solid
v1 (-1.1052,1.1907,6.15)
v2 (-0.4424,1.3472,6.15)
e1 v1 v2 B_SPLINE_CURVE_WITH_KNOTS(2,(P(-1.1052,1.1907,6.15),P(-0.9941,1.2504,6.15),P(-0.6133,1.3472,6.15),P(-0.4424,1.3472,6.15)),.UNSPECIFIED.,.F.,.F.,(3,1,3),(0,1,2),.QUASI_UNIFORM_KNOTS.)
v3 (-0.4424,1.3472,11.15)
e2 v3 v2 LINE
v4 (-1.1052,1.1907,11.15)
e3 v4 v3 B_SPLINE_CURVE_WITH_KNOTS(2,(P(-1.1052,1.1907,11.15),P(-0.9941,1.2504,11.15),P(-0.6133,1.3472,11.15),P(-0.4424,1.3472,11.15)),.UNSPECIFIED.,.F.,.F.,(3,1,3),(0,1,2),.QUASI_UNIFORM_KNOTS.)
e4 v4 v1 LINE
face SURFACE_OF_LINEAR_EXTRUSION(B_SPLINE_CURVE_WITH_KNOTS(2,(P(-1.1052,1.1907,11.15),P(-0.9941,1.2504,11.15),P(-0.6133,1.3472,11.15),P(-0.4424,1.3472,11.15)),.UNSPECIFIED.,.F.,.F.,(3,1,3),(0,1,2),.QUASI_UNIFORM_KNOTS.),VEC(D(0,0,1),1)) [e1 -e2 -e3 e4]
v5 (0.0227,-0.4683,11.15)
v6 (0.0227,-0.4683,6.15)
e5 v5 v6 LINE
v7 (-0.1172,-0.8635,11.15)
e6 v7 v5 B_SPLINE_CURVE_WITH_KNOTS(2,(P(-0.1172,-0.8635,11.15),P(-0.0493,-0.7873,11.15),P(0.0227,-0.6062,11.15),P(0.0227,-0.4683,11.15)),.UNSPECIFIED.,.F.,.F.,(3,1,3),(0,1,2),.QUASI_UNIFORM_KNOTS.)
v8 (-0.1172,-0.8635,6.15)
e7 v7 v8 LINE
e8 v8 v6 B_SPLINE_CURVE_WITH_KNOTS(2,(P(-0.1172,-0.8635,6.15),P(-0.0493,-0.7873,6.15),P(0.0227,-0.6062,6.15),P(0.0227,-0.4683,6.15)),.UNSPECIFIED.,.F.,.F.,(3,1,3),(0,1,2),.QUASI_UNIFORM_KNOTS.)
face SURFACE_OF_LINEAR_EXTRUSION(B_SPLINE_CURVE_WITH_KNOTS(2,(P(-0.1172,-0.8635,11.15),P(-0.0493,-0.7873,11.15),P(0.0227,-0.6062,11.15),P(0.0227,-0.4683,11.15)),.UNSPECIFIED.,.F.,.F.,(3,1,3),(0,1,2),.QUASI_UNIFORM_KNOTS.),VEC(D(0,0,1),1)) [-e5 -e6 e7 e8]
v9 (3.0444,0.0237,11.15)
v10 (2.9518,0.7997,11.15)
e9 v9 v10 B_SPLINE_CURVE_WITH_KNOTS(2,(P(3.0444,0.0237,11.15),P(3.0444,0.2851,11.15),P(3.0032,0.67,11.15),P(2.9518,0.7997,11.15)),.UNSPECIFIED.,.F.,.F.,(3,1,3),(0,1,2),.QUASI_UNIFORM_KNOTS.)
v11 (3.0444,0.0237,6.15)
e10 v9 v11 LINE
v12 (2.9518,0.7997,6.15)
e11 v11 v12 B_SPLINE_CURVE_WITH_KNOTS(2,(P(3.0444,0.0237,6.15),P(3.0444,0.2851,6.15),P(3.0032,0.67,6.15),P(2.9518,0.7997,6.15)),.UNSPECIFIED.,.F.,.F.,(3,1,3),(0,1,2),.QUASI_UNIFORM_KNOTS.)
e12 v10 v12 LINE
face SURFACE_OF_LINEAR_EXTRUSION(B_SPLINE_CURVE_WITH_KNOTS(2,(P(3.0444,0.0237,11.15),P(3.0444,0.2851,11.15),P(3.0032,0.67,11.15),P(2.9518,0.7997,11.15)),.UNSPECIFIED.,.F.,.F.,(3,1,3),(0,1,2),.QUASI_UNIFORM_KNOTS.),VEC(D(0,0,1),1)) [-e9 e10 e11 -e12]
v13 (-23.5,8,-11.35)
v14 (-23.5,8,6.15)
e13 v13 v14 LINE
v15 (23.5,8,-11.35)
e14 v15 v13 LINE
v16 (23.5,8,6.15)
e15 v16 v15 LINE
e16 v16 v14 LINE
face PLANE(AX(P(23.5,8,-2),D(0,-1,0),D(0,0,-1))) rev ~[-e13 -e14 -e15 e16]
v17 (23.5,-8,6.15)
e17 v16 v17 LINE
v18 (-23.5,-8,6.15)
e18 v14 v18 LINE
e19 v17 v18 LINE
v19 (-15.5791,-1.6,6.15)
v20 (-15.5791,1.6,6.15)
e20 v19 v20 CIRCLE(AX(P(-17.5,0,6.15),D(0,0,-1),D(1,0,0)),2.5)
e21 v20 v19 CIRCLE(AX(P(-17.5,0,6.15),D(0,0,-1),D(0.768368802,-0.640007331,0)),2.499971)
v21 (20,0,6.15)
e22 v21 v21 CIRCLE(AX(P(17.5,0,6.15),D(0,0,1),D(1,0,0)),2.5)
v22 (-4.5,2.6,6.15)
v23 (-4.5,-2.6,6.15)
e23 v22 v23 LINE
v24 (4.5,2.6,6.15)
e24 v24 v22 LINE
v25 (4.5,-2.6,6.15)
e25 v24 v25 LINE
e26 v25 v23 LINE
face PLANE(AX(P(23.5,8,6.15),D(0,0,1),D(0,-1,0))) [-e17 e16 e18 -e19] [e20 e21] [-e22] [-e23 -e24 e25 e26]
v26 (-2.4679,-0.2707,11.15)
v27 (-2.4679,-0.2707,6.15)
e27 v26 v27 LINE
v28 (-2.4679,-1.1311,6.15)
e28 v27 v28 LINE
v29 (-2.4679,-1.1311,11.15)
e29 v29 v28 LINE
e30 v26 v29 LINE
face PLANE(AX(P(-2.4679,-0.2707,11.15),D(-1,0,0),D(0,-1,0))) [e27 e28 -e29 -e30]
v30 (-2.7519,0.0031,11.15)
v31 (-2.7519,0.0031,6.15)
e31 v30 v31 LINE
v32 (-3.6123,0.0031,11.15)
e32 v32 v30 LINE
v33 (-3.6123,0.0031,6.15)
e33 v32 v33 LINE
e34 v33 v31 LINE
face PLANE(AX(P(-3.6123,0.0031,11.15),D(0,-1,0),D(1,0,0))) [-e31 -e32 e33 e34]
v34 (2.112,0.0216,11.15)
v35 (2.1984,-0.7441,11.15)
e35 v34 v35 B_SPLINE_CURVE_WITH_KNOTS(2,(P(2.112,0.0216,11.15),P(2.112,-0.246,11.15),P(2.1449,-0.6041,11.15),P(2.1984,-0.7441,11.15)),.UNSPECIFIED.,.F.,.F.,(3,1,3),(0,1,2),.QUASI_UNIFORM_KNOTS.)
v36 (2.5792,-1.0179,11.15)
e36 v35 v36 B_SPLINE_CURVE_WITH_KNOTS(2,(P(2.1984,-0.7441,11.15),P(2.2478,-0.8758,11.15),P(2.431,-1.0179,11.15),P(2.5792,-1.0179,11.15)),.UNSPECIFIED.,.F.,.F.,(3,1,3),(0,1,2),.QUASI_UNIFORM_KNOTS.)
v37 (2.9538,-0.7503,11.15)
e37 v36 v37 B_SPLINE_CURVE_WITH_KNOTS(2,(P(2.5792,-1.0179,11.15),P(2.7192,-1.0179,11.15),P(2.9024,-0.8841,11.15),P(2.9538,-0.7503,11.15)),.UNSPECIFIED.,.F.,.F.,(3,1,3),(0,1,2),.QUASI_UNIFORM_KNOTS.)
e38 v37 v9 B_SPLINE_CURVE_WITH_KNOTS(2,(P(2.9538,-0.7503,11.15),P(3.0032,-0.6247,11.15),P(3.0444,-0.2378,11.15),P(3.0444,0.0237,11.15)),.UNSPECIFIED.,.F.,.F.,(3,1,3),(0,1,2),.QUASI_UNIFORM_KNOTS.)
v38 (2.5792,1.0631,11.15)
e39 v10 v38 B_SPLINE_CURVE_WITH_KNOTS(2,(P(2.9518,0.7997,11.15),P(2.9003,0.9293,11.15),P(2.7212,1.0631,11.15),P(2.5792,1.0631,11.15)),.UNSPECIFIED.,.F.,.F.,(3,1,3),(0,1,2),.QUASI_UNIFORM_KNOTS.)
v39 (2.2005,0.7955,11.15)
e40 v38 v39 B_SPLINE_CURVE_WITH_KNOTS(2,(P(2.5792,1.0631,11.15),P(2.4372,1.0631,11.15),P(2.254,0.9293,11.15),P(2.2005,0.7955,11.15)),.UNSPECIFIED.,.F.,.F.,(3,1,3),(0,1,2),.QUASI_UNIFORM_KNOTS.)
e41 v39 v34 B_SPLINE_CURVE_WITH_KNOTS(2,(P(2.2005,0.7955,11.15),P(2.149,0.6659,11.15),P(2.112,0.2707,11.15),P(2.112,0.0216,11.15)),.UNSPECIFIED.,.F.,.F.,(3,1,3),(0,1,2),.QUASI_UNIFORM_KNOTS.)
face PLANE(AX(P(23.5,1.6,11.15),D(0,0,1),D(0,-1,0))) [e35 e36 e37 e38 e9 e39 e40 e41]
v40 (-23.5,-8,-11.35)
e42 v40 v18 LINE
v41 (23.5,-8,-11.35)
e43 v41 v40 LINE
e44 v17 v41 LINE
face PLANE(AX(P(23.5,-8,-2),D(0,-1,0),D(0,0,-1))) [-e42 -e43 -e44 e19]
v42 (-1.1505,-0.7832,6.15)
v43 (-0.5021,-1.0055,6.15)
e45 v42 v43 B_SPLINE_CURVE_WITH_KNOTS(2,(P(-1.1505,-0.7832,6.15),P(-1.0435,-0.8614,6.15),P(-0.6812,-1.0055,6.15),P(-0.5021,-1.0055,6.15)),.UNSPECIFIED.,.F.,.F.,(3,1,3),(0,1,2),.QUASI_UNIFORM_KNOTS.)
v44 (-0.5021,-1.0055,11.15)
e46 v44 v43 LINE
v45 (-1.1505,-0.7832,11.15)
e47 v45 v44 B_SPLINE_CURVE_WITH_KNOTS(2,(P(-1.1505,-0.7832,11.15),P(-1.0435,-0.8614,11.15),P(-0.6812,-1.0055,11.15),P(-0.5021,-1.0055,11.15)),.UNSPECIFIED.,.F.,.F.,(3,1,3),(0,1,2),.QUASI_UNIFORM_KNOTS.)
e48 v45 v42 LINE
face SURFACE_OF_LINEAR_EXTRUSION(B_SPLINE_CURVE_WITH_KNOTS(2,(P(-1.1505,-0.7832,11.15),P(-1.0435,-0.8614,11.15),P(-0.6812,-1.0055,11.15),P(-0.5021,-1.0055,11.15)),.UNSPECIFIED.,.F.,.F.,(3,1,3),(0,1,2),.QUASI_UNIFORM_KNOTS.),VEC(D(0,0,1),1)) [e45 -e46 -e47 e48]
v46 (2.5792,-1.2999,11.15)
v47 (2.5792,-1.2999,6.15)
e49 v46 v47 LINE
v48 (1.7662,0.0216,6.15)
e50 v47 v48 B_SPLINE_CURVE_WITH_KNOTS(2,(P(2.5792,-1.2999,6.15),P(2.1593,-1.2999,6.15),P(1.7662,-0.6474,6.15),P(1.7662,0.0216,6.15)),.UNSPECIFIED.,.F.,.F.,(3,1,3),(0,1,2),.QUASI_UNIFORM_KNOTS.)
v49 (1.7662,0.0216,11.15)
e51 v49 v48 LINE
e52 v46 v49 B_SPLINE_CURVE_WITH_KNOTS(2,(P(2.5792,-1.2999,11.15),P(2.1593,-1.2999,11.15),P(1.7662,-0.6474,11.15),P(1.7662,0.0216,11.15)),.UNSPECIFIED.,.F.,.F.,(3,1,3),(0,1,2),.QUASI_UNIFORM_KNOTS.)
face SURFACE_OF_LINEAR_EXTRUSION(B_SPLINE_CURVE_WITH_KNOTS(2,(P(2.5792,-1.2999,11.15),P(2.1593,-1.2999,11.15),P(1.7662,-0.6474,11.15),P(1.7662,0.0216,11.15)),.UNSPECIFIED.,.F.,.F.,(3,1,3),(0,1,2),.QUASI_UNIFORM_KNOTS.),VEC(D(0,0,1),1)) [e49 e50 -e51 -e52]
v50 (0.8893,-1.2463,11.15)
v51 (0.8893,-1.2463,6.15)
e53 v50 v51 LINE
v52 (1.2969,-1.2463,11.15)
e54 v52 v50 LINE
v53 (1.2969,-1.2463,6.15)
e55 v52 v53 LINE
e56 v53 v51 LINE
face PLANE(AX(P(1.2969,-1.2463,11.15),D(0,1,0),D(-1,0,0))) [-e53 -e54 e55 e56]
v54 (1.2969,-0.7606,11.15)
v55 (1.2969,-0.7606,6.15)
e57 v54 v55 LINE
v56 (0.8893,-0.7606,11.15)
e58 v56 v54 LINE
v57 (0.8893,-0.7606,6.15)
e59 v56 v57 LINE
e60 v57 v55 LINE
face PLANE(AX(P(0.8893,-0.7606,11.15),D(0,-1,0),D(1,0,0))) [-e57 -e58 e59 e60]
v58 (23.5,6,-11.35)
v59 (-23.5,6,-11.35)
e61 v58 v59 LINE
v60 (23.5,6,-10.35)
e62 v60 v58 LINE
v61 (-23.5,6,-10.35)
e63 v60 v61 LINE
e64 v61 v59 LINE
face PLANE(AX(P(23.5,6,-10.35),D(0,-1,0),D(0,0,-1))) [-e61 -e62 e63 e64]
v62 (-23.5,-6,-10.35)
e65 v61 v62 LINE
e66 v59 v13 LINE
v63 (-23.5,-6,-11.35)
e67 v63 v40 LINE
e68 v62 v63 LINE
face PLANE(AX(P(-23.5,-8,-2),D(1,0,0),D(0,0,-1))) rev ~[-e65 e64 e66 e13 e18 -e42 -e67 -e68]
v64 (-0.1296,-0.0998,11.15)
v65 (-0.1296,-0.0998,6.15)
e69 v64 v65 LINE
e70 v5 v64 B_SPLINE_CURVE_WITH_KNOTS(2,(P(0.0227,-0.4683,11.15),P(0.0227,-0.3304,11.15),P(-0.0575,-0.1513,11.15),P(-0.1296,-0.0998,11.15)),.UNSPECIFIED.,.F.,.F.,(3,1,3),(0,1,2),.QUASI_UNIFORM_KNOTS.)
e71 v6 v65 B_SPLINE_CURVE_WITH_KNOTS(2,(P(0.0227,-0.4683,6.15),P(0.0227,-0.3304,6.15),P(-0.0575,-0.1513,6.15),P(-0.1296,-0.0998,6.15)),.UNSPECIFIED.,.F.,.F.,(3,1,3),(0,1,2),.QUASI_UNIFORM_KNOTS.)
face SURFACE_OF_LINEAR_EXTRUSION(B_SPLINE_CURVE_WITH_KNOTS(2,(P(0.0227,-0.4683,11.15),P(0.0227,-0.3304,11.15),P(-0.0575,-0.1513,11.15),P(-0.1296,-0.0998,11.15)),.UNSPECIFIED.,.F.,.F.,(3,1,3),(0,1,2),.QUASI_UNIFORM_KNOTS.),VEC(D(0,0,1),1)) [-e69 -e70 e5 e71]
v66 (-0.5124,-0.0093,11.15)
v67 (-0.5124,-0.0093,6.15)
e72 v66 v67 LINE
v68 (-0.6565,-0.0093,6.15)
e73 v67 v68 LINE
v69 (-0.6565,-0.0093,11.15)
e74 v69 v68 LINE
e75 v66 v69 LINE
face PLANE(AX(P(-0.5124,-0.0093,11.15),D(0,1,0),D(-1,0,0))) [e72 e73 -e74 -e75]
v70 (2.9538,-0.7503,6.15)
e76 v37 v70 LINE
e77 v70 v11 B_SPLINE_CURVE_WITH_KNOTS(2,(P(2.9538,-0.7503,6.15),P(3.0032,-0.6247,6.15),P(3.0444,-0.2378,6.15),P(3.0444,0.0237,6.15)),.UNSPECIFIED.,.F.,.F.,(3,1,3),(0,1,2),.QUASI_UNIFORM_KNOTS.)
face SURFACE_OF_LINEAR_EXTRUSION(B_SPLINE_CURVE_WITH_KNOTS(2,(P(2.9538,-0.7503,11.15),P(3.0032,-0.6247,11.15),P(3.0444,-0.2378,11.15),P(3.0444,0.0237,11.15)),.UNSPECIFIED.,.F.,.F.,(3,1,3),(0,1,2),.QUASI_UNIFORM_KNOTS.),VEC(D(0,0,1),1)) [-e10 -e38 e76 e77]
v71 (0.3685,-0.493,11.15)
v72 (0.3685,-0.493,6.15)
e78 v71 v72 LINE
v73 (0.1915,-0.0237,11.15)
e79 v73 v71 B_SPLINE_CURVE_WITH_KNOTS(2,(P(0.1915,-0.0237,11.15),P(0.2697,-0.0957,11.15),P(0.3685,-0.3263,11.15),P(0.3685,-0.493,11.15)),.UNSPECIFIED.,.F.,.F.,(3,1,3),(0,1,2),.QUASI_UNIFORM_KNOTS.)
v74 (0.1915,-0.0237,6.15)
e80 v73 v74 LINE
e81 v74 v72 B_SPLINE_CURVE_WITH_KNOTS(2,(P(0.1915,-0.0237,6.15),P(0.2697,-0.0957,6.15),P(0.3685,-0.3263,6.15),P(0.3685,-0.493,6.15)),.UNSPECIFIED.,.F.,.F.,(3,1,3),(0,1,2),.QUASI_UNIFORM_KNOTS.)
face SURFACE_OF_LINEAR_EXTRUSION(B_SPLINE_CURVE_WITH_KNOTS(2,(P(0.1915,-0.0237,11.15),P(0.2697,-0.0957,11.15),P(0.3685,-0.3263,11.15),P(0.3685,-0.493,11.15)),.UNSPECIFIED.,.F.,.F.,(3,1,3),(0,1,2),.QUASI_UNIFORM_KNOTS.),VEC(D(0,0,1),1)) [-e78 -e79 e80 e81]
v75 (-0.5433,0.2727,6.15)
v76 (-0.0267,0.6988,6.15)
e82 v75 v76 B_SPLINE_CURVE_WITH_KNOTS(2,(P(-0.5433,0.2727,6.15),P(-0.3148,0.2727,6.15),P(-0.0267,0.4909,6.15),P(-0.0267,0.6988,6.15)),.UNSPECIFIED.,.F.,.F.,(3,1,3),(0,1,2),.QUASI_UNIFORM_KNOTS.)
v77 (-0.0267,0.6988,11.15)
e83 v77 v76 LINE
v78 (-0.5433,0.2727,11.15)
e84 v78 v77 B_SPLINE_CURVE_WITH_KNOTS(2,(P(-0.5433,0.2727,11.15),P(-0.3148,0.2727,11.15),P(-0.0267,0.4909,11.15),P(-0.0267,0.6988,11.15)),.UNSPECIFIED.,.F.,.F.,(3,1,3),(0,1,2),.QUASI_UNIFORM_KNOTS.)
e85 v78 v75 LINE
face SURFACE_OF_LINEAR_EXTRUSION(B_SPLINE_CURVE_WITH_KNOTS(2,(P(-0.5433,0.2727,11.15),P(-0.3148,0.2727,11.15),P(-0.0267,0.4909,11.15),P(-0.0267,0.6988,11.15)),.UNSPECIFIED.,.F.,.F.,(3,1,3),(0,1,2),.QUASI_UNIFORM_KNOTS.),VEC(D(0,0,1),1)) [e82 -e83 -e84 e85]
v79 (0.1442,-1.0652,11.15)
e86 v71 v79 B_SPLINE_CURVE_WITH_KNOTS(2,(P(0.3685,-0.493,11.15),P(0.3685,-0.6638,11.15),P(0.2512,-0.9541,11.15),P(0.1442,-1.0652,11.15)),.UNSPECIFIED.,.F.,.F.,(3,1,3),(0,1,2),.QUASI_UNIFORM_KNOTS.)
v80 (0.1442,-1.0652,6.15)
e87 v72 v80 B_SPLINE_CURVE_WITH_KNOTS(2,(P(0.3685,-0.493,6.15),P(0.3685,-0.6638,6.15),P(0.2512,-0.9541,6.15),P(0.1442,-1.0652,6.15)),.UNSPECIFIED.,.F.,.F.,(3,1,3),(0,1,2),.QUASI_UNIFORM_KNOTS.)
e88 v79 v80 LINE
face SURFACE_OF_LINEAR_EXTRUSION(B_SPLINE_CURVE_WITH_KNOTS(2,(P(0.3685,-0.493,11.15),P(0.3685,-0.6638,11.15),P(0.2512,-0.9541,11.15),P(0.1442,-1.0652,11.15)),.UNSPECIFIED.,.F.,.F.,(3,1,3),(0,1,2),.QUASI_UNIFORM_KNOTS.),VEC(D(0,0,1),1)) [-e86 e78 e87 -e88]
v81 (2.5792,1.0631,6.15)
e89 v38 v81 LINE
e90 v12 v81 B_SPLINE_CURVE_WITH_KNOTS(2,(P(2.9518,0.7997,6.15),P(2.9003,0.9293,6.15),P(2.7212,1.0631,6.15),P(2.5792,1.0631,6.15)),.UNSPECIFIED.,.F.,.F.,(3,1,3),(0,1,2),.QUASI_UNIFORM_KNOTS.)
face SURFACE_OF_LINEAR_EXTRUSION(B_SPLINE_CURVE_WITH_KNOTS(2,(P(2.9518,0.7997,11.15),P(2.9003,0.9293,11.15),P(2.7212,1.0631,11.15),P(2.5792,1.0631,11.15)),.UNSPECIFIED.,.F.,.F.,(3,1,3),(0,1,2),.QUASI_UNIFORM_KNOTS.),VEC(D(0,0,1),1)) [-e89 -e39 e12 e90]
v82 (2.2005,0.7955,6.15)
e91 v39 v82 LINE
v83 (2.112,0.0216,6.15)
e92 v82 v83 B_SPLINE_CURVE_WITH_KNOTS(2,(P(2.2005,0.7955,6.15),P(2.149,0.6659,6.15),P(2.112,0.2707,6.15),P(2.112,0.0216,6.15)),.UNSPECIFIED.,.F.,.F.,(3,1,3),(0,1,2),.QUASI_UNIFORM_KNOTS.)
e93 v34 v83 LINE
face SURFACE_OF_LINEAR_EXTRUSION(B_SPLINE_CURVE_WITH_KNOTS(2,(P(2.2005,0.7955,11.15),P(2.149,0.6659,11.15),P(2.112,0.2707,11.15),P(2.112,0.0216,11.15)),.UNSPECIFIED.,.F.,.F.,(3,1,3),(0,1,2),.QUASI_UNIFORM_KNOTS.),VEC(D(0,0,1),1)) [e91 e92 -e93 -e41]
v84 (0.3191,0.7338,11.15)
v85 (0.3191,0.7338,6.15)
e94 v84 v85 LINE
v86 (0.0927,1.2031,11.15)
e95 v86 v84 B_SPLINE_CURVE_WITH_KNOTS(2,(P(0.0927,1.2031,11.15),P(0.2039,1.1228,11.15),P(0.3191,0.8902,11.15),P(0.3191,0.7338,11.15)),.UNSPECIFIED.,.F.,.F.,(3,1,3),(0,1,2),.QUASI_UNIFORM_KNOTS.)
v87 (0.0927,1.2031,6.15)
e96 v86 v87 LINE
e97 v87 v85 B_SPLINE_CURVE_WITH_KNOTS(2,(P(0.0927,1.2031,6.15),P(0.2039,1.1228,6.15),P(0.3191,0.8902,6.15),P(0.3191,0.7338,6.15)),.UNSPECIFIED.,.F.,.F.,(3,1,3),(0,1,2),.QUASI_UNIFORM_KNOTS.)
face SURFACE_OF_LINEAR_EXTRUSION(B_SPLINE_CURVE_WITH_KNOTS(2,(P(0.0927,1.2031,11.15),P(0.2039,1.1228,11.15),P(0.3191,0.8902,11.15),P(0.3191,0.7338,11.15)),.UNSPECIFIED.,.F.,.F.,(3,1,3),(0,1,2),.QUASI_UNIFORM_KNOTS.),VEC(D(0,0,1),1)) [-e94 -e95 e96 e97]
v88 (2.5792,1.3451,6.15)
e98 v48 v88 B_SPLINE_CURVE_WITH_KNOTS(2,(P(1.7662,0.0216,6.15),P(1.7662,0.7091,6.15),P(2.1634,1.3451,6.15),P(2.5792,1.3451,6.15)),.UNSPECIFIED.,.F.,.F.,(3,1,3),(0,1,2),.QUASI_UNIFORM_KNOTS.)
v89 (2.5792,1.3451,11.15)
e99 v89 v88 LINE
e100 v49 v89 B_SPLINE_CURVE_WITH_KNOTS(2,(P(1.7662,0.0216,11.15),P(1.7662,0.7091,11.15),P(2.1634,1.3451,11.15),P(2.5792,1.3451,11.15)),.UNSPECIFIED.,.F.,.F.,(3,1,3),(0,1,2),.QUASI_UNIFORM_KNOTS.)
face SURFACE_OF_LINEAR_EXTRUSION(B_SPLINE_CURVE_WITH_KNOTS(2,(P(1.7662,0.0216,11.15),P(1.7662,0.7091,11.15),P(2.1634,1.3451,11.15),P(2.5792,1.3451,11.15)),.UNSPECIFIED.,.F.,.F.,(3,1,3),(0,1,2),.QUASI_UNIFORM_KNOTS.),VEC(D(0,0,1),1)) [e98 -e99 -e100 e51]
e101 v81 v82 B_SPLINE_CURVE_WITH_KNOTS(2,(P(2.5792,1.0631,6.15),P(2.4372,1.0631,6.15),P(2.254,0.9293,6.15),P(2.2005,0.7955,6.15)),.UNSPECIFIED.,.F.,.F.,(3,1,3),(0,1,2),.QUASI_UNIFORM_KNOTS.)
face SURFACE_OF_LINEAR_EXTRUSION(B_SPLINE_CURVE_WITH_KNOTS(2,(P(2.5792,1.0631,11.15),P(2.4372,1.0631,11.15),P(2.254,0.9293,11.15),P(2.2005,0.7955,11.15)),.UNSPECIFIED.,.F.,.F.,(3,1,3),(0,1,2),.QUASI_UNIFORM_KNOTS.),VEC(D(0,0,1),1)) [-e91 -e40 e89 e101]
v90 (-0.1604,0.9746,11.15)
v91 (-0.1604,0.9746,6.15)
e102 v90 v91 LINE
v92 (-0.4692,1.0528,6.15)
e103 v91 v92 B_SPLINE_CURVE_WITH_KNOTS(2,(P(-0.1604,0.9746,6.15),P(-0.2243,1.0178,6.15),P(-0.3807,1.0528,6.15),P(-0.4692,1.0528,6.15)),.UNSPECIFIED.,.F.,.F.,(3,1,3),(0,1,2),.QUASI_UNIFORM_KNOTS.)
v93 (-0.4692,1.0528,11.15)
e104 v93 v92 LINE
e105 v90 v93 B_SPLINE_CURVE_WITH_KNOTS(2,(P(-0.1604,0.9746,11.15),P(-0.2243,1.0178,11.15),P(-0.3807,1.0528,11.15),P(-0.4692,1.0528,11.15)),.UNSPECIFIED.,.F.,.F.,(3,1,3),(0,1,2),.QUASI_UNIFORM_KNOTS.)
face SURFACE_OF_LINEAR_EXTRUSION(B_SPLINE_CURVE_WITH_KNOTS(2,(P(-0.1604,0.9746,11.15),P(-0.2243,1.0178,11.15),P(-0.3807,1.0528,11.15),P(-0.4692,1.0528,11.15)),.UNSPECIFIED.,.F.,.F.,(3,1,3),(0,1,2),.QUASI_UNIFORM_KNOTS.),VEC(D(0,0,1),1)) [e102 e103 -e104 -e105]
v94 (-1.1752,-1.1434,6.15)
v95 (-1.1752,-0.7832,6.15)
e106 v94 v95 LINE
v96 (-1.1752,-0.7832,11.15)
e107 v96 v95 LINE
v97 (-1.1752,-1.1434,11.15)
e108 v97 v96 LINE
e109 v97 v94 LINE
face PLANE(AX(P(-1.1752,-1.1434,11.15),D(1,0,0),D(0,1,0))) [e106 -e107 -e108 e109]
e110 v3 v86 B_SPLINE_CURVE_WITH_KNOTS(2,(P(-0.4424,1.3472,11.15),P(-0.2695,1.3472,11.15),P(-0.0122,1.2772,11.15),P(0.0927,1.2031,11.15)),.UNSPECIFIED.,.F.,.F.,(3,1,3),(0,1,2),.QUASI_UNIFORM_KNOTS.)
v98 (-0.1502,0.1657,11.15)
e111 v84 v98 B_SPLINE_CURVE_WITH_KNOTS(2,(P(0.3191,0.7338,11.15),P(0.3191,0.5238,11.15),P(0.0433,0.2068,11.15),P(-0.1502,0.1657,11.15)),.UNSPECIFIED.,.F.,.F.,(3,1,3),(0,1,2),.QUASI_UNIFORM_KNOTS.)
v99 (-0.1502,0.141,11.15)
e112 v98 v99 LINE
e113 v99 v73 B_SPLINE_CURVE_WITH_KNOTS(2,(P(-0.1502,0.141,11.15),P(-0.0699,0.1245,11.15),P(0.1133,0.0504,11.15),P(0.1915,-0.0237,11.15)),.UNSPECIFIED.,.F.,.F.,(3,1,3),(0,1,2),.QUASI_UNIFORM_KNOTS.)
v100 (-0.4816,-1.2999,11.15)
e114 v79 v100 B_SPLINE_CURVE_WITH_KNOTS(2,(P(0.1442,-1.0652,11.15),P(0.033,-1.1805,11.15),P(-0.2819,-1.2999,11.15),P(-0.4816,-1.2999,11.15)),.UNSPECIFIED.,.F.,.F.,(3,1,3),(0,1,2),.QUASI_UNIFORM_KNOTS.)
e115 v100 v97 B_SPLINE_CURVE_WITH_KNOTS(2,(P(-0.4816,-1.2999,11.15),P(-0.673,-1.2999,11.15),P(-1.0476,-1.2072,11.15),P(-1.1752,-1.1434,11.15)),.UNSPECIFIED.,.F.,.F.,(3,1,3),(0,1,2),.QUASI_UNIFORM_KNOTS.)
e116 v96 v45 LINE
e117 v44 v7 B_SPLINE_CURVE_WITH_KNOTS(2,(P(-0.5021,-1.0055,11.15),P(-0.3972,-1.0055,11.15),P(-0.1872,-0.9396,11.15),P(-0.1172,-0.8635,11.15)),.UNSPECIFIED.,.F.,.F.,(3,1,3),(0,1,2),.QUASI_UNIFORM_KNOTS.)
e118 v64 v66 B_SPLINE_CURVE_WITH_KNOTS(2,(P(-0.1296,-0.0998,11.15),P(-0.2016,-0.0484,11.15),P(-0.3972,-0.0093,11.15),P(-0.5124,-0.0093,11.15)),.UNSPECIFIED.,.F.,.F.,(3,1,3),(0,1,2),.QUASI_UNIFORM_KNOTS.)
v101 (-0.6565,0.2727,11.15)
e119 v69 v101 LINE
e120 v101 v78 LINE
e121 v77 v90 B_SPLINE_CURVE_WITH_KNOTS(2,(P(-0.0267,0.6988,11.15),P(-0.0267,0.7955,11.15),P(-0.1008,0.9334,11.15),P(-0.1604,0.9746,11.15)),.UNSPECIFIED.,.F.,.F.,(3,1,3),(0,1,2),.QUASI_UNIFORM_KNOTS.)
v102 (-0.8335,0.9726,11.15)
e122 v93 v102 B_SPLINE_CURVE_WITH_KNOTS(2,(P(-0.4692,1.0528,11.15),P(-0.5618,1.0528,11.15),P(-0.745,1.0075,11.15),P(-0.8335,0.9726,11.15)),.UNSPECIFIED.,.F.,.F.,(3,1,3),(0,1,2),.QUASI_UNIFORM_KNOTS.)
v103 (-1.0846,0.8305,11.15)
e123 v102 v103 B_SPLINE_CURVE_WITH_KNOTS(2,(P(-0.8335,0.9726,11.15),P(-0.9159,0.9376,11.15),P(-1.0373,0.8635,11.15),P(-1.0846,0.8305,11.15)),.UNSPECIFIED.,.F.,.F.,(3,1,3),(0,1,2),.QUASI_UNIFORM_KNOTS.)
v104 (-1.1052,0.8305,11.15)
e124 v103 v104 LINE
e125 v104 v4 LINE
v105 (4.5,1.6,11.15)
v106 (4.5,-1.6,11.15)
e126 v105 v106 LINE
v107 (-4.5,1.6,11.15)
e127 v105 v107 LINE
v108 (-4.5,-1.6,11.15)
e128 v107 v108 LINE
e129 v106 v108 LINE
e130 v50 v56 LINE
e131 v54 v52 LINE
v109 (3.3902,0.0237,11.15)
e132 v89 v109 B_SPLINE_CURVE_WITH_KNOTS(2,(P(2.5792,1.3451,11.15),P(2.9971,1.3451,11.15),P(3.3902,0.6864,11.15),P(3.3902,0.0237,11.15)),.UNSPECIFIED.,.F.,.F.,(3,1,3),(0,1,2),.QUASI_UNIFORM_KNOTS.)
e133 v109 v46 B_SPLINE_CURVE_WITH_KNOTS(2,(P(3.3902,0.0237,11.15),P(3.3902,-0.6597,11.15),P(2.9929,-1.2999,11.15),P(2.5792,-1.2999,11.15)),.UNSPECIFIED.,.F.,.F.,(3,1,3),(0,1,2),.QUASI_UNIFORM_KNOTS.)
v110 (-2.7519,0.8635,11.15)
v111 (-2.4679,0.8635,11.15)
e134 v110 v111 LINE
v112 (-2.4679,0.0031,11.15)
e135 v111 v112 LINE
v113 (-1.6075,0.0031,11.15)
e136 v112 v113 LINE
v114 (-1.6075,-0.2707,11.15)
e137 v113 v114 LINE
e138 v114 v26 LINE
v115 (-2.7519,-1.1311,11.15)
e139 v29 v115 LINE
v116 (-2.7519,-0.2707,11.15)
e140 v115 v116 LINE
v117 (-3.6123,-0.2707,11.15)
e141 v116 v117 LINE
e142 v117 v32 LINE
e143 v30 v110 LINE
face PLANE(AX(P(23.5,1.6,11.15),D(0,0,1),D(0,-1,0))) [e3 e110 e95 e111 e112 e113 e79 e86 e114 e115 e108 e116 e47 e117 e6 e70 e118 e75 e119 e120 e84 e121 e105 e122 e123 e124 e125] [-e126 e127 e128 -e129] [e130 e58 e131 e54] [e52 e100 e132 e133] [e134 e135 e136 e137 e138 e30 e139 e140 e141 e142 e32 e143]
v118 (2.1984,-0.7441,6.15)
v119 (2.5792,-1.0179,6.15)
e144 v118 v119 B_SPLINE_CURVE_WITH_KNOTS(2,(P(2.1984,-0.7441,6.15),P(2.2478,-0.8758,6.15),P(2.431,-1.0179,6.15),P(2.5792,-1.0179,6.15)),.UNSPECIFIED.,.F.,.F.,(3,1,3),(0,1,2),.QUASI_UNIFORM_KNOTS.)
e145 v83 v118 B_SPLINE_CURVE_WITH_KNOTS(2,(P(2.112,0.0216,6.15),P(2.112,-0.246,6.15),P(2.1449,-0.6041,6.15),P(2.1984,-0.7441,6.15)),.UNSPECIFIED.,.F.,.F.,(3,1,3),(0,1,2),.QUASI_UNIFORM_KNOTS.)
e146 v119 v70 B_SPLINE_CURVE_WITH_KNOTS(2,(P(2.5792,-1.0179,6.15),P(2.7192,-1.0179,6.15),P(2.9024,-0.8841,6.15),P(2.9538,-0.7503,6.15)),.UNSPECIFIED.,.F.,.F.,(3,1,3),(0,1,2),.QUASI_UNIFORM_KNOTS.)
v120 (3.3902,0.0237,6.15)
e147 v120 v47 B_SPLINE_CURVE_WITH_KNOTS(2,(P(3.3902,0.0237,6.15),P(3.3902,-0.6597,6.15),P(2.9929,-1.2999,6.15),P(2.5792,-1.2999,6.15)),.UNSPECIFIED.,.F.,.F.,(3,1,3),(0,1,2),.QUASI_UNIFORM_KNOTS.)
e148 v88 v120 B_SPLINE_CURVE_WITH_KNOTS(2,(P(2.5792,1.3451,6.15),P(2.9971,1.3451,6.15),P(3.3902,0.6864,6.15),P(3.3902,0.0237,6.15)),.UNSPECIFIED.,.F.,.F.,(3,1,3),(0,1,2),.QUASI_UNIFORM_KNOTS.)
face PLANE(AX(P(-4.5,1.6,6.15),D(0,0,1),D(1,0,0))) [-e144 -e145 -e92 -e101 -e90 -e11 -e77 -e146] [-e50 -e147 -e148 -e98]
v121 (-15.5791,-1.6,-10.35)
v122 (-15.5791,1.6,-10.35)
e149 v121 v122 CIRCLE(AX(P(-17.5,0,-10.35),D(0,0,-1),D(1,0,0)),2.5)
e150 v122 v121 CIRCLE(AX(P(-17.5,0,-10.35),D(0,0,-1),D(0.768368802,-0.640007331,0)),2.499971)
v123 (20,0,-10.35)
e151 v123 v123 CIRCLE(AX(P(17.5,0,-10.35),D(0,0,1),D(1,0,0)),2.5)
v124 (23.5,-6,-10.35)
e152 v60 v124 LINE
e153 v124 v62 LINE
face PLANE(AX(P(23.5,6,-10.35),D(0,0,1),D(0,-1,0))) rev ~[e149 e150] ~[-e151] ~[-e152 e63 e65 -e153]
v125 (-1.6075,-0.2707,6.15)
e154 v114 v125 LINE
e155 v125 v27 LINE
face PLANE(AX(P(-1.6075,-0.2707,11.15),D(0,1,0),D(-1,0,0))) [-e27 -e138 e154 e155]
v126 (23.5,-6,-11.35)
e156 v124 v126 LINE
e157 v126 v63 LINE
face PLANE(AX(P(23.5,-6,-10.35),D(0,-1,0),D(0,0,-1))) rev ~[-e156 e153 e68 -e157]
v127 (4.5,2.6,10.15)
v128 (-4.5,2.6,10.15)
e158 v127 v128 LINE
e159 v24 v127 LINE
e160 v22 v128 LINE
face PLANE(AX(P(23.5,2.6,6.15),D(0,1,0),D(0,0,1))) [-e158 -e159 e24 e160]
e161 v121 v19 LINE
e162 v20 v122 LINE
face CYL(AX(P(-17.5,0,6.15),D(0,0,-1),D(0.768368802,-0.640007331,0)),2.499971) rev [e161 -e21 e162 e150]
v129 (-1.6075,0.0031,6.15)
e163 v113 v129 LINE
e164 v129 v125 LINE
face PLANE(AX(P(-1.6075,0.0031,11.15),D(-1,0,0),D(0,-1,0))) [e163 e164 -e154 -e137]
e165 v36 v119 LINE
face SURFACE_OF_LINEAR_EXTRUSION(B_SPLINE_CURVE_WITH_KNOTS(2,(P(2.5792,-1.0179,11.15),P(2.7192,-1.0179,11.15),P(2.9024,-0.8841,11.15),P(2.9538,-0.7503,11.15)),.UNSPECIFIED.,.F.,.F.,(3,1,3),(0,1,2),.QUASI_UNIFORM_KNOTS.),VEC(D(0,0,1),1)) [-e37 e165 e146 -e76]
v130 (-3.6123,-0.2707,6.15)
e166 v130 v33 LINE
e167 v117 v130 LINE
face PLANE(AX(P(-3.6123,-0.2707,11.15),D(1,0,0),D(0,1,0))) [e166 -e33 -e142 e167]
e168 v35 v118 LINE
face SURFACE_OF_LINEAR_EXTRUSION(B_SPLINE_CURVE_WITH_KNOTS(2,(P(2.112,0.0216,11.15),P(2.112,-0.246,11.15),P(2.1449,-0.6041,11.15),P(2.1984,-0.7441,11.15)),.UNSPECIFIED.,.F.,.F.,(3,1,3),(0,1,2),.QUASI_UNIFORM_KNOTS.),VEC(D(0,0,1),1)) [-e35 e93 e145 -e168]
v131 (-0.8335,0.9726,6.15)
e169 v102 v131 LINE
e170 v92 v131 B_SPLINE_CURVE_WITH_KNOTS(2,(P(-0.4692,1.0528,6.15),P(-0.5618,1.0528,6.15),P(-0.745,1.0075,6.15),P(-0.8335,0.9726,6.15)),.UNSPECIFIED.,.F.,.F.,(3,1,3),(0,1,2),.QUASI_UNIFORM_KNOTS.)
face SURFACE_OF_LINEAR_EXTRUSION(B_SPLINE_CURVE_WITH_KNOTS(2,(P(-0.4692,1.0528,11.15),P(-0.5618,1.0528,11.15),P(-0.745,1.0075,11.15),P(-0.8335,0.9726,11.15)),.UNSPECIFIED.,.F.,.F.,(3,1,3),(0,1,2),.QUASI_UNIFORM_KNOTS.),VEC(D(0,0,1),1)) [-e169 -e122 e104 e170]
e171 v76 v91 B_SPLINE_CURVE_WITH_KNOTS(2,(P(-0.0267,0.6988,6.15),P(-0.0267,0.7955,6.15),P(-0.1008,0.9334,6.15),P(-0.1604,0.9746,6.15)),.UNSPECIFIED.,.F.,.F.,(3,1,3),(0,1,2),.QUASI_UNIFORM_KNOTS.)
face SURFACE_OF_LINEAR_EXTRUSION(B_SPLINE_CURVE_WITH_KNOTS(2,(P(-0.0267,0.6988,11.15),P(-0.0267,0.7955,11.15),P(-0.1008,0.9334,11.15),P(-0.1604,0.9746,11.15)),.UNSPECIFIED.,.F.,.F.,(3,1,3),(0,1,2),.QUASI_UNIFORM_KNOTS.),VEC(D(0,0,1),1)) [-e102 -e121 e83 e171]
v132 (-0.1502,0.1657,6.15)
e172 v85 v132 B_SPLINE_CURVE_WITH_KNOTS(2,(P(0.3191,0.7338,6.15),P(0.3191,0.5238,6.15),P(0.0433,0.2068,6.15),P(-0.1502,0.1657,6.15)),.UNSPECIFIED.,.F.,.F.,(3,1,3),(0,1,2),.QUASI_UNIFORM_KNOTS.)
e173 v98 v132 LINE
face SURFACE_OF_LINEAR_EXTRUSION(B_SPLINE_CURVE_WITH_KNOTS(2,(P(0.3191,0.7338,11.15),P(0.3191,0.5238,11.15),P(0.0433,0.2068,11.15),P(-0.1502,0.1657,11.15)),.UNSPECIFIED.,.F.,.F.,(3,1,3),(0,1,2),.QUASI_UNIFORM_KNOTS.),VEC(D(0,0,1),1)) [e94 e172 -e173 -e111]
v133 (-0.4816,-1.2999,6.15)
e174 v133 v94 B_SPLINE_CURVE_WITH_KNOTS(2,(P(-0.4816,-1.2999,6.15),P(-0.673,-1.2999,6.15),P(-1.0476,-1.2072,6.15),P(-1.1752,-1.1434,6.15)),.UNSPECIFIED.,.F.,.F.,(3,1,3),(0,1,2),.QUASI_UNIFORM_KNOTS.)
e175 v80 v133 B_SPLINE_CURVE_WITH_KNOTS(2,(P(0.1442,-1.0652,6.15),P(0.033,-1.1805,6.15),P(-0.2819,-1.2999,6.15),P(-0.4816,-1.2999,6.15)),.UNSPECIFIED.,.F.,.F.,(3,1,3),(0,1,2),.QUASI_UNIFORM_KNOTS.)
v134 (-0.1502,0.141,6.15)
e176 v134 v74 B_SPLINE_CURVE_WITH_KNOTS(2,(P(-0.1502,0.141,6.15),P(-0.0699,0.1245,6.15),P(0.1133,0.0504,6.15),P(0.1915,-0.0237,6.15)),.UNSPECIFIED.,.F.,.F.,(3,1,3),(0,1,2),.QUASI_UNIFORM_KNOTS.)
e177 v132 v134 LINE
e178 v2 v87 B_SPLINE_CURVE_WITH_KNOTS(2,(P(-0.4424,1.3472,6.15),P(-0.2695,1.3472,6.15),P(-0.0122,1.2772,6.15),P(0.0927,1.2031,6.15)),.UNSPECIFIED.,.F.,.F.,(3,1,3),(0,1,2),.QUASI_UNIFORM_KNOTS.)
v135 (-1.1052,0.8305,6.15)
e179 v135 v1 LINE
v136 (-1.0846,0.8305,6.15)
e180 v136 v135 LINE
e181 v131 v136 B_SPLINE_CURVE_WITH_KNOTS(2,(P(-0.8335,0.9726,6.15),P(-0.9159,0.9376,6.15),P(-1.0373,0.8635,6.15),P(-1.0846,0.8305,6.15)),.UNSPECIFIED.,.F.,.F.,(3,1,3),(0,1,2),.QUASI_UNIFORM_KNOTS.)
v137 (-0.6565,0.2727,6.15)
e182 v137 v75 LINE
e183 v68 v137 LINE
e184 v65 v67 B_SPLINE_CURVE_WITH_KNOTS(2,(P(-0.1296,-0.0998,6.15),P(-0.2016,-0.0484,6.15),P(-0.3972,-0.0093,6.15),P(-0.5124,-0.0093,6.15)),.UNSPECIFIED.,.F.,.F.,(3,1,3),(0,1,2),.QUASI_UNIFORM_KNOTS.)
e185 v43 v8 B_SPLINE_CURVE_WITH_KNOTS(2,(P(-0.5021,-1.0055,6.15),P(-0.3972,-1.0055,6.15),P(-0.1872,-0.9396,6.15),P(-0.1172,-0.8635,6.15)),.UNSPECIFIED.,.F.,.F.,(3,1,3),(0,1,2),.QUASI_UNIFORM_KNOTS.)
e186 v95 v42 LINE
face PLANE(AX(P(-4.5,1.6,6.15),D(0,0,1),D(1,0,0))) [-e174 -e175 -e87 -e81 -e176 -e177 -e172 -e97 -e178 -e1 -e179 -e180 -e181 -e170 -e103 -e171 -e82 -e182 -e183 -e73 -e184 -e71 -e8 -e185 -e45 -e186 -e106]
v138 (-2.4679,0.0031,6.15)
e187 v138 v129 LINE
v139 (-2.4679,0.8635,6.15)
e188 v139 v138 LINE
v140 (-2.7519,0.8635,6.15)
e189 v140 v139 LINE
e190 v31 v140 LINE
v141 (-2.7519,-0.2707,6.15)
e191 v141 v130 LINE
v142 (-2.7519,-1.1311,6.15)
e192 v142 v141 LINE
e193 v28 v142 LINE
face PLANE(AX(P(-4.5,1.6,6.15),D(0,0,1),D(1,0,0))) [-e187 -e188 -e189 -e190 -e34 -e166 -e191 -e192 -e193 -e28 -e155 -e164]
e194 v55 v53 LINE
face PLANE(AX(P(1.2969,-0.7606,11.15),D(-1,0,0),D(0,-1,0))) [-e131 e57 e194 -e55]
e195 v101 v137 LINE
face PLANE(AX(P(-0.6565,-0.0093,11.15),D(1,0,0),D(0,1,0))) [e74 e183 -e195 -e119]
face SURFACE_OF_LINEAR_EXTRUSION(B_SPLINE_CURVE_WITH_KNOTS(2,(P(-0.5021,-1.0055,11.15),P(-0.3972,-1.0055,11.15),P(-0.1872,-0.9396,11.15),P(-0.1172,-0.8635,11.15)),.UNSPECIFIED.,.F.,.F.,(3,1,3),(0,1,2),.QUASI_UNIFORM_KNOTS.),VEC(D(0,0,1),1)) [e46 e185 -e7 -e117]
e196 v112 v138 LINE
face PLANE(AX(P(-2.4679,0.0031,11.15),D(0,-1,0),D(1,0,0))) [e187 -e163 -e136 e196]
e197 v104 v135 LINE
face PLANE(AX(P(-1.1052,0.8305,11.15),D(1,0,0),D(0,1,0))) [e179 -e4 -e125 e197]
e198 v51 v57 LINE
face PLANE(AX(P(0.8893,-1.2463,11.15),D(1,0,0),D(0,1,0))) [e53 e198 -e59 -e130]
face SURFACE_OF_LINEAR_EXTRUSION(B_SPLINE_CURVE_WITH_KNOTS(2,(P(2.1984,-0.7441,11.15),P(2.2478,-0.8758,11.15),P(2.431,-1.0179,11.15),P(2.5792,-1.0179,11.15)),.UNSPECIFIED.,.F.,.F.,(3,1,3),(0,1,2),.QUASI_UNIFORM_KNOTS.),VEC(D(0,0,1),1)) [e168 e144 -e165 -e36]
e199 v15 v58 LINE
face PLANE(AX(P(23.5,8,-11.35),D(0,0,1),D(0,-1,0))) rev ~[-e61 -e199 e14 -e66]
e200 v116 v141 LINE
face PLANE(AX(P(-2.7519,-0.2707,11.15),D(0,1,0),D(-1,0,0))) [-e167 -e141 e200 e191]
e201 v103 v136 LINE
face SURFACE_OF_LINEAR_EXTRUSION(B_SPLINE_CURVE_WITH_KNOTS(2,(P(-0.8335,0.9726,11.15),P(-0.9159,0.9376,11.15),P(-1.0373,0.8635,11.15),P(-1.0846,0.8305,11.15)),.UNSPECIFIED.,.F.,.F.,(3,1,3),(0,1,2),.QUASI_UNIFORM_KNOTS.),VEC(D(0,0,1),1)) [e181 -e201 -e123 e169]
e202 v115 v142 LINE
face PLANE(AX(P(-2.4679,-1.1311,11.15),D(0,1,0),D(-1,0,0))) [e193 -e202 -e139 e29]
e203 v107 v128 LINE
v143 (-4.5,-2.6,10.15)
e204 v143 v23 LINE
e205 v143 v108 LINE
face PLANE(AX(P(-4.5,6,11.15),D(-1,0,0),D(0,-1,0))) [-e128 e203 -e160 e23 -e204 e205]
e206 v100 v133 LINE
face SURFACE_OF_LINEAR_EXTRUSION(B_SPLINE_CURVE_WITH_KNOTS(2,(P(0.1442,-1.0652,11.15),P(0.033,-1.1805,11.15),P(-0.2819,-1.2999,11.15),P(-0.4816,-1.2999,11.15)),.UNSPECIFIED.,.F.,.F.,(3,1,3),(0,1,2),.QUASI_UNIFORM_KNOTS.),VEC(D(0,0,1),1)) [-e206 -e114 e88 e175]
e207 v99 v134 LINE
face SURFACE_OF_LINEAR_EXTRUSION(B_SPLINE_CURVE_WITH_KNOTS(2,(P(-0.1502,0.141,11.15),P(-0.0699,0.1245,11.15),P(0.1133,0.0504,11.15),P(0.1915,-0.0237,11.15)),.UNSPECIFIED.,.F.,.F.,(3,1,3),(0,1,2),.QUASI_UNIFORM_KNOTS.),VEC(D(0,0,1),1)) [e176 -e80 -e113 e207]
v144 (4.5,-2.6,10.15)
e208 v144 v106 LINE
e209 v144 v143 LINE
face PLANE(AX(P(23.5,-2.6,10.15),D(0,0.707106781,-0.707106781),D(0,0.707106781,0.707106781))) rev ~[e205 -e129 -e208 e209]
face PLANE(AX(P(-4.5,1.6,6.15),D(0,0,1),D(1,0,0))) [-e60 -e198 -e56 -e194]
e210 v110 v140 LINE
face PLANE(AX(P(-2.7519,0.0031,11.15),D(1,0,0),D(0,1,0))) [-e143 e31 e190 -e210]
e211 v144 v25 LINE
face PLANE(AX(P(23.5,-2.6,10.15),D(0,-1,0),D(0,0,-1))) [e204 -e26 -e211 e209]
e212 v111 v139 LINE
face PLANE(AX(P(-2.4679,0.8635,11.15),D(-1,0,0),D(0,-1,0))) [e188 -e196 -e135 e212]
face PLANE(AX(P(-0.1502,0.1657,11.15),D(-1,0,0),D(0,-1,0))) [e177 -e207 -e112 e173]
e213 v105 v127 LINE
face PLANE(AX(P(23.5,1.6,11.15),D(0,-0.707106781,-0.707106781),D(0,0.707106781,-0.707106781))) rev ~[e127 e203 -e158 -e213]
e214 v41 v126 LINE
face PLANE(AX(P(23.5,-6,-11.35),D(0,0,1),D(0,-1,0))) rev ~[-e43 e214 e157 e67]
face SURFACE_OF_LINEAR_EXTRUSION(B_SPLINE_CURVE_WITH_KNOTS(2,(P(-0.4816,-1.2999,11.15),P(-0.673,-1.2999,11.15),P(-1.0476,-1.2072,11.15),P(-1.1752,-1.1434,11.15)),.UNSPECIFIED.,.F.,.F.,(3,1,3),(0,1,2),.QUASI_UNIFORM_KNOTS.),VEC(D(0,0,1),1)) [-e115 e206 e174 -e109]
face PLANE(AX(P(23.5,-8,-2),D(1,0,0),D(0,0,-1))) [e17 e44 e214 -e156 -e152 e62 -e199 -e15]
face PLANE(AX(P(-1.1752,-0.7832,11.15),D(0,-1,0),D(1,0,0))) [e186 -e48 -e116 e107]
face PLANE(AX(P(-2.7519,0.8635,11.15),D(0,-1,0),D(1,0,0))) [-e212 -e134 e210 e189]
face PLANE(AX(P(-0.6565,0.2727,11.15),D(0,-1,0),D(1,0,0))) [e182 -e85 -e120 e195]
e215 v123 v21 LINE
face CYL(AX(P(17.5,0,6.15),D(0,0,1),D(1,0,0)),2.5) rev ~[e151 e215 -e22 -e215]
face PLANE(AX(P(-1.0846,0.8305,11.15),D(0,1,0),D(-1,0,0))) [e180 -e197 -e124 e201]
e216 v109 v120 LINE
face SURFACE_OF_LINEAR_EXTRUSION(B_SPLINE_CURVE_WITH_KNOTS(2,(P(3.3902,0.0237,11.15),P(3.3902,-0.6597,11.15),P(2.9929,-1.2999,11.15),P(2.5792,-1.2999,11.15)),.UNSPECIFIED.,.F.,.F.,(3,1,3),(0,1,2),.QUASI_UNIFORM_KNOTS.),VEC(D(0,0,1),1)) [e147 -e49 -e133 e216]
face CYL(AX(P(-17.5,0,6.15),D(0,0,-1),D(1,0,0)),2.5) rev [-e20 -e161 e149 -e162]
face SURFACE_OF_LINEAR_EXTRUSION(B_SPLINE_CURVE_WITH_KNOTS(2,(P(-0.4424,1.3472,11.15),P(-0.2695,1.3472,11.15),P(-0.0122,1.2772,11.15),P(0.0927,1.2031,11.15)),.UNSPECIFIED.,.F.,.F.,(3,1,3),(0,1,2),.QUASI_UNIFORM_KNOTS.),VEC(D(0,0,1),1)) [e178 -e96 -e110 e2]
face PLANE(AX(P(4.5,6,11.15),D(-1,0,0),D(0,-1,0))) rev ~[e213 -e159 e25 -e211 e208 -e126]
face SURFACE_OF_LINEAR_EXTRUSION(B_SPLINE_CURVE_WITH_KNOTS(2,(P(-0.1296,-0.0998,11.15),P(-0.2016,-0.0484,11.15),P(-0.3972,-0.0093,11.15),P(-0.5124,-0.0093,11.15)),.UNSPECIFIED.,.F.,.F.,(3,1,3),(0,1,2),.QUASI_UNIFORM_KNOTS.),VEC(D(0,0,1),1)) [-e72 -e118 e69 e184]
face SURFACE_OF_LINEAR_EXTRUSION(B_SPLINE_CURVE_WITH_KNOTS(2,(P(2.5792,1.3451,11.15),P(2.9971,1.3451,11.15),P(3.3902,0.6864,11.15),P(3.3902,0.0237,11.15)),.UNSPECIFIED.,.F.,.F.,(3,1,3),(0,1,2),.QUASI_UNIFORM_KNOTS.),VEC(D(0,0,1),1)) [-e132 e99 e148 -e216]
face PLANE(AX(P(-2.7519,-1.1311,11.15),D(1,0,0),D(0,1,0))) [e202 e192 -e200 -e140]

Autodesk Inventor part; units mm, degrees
ref_plane "YZ Plane" through (0, 0, 0) normal (1, 0, 0) x (0, 1, 0)
ref_plane "XZ Plane" through (0, 0, 0) normal (0, 1, 0) x (-1, 0, 0)
ref_plane "XY Plane" through (0, 0, 0) normal (0, 0, 1) x (1, 0, 0)
ref_plane "작업 평면1" through (23.5, -8, -2) normal (1, 0, 0) x (0, 0, -1)
sketch "스케치1" plane through (23.5, -8, -2) normal (1, 0, 0) x (0, 0, -1)
  line L0 (0, 16) -> (-8.15, 16) projected
  line L1 (-8.15, 16) -> (-8.15, 10.6) projected
  line L2 (-8.15, 10.6) -> (-12.15, 10.6) projected
  line L3 (-13.15, 9.6) -> (-12.15, 10.6) projected
  line L4 (-13.15, 9.6) -> (-13.15, 6.4) projected
  line L5 (-12.15, 5.4) -> (-13.15, 6.4) projected
  line L6 (-12.15, 5.4) -> (-8.15, 5.4) projected
  line L7 (-8.15, 5.4) -> (-8.15, 0) projected
  line L8 (-8.15, 0) -> (0, 0) projected
  line L9 (0, 16) -> (9.35, 16)
  line L10 (9.35, 16) -> (9.35, 15)
  line L11 (0, 0) -> (9.35, 0)
  line L12 (9.35, 0) -> (9.35, 1)
  line L13 (0, 16) -> (-8.15, 16)
  line L14 (-8.15, 10.6) -> (-12.15, 10.6) projected
  line L15 (-8.15, 10.6) -> (-12.15, 10.6)
  line L16 (-12.15, 10.6) -> (-13.15, 9.6)
  line L17 (-13.15, 6.4) -> (-12.15, 5.4)
  line L18 (8.35, 14) -> (9.35, 14)
  line L19 (9.35, 14) -> (9.35, 15)
  line L20 (8.35, 2) -> (9.35, 2)
  line L21 (9.35, 2) -> (9.35, 1)
  line L22 (8.35, 14) -> (8.35, 2)
  point P0 (-2, 8)
  point P1 (4.35, 10.6)
  point P2 (4.35, 5.4)
  dimension "d1" = 9.35
  dimension "d13" = 9.35
sketch "스케치2" plane through (-23.5, 8, 6.15) normal (0, 0, 1) x (1, 0, 0)
  arc A0 (7.9209, -9.6) -> (7.9209, -6.4) centre (6, -8) ccw projected
  line L0 (39.0791, -9.6) -> (7.9209, -9.6) projected
  circle A1 centre (6, -8) radius 2.5
  circle A2 centre (41, -8) radius 2.5 projected
  circle A3 centre (41, -8) radius 2.5
  point P0 (23.5, -8)
  point P1 (7.9209, -6.4)
extrude "돌출1" add sketch "스케치1" against normal up to surface (47 mm away)
extrude "돌출2" cut sketch "스케치2" along normal mid plane 50
sketch "스케치3" plane through (-15.5791, 1.6, 11.15) normal (0, 0, 1) x (1, 0, 0)
  line L0 (15.5791, -14.4593) -> (15.5791, 15.5737)
  line L1 (-7.9209, 4.4) -> (-7.9209, -7.6) projected
  line L2 (-7.9209, 4.4) -> (11.0791, 4.4)
  line L3 (11.0791, 4.4) -> (11.0791, -7.6)
  line L4 (11.0791, -7.6) -> (-7.9209, -7.6)
  line L5 (-7.9209, -7.6) -> (-7.9209, 4.4)
  line L6 (39.0791, 4.4) -> (39.0791, -7.6)
  line L7 (39.0791, 4.4) -> (20.0791, 4.4)
  line L8 (20.0791, 4.4) -> (20.0791, -7.6)
  line L9 (20.0791, -7.6) -> (39.0791, -7.6)
  line L10 (39.0791, -7.6) -> (39.0791, 4.4)
  point P0 (15.5791, -1.6)
  dimension "d9" = 19
extrude "돌출3" cut sketch "스케치3" against normal up to surface (5 mm away)
sketch "스케치4" plane through (-4.5, 1.6, 11.15) normal (0, 0, 1) x (1, 0, 0)
  line L0 (0.6181, -0.2528) -> (7.2489, -0.2528) construction
  line L1 (7.2489, -0.2528) -> (7.2489, -2.6222) construction
  line L2 (7.2489, -2.6222) -> (0.6181, -2.6222) construction
  line L3 (0.6181, -2.6222) -> (0.6181, -0.2528) construction
  line L4 (2.8925, -1.8707) -> (2.0321, -1.8707)
  line L5 (2.0321, -1.8707) -> (2.0321, -2.7311)
  line L6 (2.0321, -2.7311) -> (1.7481, -2.7311)
  line L7 (1.7481, -2.7311) -> (1.7481, -1.8707)
  line L8 (1.7481, -1.8707) -> (0.8877, -1.8707)
  line L9 (0.8877, -1.8707) -> (0.8877, -1.5969)
  line L10 (0.8877, -1.5969) -> (1.7481, -1.5969)
  line L11 (1.7481, -1.5969) -> (1.7481, -0.7365)
  line L12 (1.7481, -0.7365) -> (2.0321, -0.7365)
  line L13 (2.0321, -0.7365) -> (2.0321, -1.5969)
  line L14 (2.0321, -1.5969) -> (2.8925, -1.5969)
  line L15 (2.8925, -1.5969) -> (2.8925, -1.8707)
  spline S0 degree 2 poles (4.0308, -0.5472) (3.9382, -0.5472) (3.755, -0.5925) (3.6665, -0.6274) knots 0 0 0 1 2 2 2
  spline S1 degree 2 poles (3.6665, -0.6274) (3.5841, -0.6624) (3.4627, -0.7365) (3.4154, -0.7695) knots 0 0 0 1 2 2 2
  line L16 (3.4154, -0.7695) -> (3.3948, -0.7695)
  line L17 (3.3948, -0.7695) -> (3.3948, -0.4093)
  spline S2 degree 2 poles (3.3948, -0.4093) (3.5059, -0.3496) (3.8867, -0.2528) (4.0576, -0.2528) knots 0 0 0 1 2 2 2
  spline S3 degree 2 poles (4.0576, -0.2528) (4.2305, -0.2528) (4.4878, -0.3228) (4.5927, -0.3969) knots 0 0 0 1 2 2 2
  spline S4 degree 2 poles (4.5927, -0.3969) (4.7039, -0.4772) (4.8191, -0.7098) (4.8191, -0.8662) knots 0 0 0 1 2 2 2
  spline S5 degree 2 poles (4.8191, -0.8662) (4.8191, -1.0762) (4.5433, -1.3932) (4.3498, -1.4343) knots 0 0 0 1 2 2 2
  line L18 (4.3498, -1.4343) -> (4.3498, -1.459)
  spline S6 degree 2 poles (4.3498, -1.459) (4.4301, -1.4755) (4.6133, -1.5496) (4.6915, -1.6237) knots 0 0 0 1 2 2 2
  spline S7 degree 2 poles (4.6915, -1.6237) (4.7697, -1.6957) (4.8685, -1.9263) (4.8685, -2.093) knots 0 0 0 1 2 2 2
  spline S8 degree 2 poles (4.8685, -2.093) (4.8685, -2.2638) (4.7512, -2.5541) (4.6442, -2.6652) knots 0 0 0 1 2 2 2
  spline S9 degree 2 poles (4.6442, -2.6652) (4.533, -2.7805) (4.2181, -2.8999) (4.0184, -2.8999) knots 0 0 0 1 2 2 2
  spline S10 degree 2 poles (4.0184, -2.8999) (3.827, -2.8999) (3.4524, -2.8072) (3.3248, -2.7434) knots 0 0 0 1 2 2 2
  line L19 (3.3248, -2.7434) -> (3.3248, -2.3832)
  line L20 (3.3248, -2.3832) -> (3.3495, -2.3832)
  spline S11 degree 2 poles (3.3495, -2.3832) (3.4565, -2.4614) (3.8188, -2.6055) (3.9979, -2.6055) knots 0 0 0 1 2 2 2
  spline S12 degree 2 poles (3.9979, -2.6055) (4.1028, -2.6055) (4.3128, -2.5396) (4.3828, -2.4635) knots 0 0 0 1 2 2 2
  spline S13 degree 2 poles (4.3828, -2.4635) (4.4507, -2.3873) (4.5227, -2.2062) (4.5227, -2.0683) knots 0 0 0 1 2 2 2
  spline S14 degree 2 poles (4.5227, -2.0683) (4.5227, -1.9304) (4.4425, -1.7513) (4.3704, -1.6998) knots 0 0 0 1 2 2 2
  spline S15 degree 2 poles (4.3704, -1.6998) (4.2984, -1.6484) (4.1028, -1.6093) (3.9876, -1.6093) knots 0 0 0 1 2 2 2
  line L21 (3.9876, -1.6093) -> (3.8435, -1.6093)
  line L22 (3.8435, -1.6093) -> (3.8435, -1.3273)
  line L23 (3.8435, -1.3273) -> (3.9567, -1.3273)
  spline S16 degree 2 poles (3.9567, -1.3273) (4.1852, -1.3273) (4.4733, -1.1091) (4.4733, -0.9012) knots 0 0 0 1 2 2 2
  spline S17 degree 2 poles (4.4733, -0.9012) (4.4733, -0.8045) (4.3992, -0.6666) (4.3396, -0.6254) knots 0 0 0 1 2 2 2
  spline S18 degree 2 poles (4.3396, -0.6254) (4.2757, -0.5822) (4.1193, -0.5472) (4.0308, -0.5472) knots 0 0 0 1 2 2 2
  line L24 (5.7969, -2.8463) -> (5.3893, -2.8463)
  line L25 (5.3893, -2.8463) -> (5.3893, -2.3606)
  line L26 (5.3893, -2.3606) -> (5.7969, -2.3606)
  line L27 (5.7969, -2.3606) -> (5.7969, -2.8463)
  spline S19 degree 2 poles (7.8902, -1.5763) (7.8902, -2.2597) (7.4929, -2.8999) (7.0792, -2.8999) knots 0 0 0 1 2 2 2
  spline S20 degree 2 poles (7.0792, -2.8999) (6.6593, -2.8999) (6.2662, -2.2474) (6.2662, -1.5784) knots 0 0 0 1 2 2 2
  spline S21 degree 2 poles (6.2662, -1.5784) (6.2662, -0.8909) (6.6634, -0.2549) (7.0792, -0.2549) knots 0 0 0 1 2 2 2
  spline S22 degree 2 poles (7.0792, -0.2549) (7.4971, -0.2549) (7.8902, -0.9136) (7.8902, -1.5763) knots 0 0 0 1 2 2 2
  spline S23 degree 2 poles (7.4538, -2.3503) (7.5032, -2.2247) (7.5444, -1.8378) (7.5444, -1.5763) knots 0 0 0 1 2 2 2
  spline S24 degree 2 poles (7.5444, -1.5763) (7.5444, -1.3149) (7.5032, -0.93) (7.4518, -0.8003) knots 0 0 0 1 2 2 2
  spline S25 degree 2 poles (7.4518, -0.8003) (7.4003, -0.6707) (7.2212, -0.5369) (7.0792, -0.5369) knots 0 0 0 1 2 2 2
  spline S26 degree 2 poles (7.0792, -0.5369) (6.9372, -0.5369) (6.754, -0.6707) (6.7005, -0.8045) knots 0 0 0 1 2 2 2
  spline S27 degree 2 poles (6.7005, -0.8045) (6.649, -0.9341) (6.612, -1.3293) (6.612, -1.5784) knots 0 0 0 1 2 2 2
  spline S28 degree 2 poles (6.612, -1.5784) (6.612, -1.846) (6.6449, -2.2041) (6.6984, -2.3441) knots 0 0 0 1 2 2 2
  spline S29 degree 2 poles (6.6984, -2.3441) (6.7478, -2.4758) (6.931, -2.6179) (7.0792, -2.6179) knots 0 0 0 1 2 2 2
  spline S30 degree 2 poles (7.0792, -2.6179) (7.2192, -2.6179) (7.4024, -2.4841) (7.4538, -2.3503) knots 0 0 0 1 2 2 2
  point P0 (4.5, -1.6)
extrude "돌출4" cut sketch "스케치4" against normal blind 5
properties part number "Bearing Spacer_V2_3mm"
